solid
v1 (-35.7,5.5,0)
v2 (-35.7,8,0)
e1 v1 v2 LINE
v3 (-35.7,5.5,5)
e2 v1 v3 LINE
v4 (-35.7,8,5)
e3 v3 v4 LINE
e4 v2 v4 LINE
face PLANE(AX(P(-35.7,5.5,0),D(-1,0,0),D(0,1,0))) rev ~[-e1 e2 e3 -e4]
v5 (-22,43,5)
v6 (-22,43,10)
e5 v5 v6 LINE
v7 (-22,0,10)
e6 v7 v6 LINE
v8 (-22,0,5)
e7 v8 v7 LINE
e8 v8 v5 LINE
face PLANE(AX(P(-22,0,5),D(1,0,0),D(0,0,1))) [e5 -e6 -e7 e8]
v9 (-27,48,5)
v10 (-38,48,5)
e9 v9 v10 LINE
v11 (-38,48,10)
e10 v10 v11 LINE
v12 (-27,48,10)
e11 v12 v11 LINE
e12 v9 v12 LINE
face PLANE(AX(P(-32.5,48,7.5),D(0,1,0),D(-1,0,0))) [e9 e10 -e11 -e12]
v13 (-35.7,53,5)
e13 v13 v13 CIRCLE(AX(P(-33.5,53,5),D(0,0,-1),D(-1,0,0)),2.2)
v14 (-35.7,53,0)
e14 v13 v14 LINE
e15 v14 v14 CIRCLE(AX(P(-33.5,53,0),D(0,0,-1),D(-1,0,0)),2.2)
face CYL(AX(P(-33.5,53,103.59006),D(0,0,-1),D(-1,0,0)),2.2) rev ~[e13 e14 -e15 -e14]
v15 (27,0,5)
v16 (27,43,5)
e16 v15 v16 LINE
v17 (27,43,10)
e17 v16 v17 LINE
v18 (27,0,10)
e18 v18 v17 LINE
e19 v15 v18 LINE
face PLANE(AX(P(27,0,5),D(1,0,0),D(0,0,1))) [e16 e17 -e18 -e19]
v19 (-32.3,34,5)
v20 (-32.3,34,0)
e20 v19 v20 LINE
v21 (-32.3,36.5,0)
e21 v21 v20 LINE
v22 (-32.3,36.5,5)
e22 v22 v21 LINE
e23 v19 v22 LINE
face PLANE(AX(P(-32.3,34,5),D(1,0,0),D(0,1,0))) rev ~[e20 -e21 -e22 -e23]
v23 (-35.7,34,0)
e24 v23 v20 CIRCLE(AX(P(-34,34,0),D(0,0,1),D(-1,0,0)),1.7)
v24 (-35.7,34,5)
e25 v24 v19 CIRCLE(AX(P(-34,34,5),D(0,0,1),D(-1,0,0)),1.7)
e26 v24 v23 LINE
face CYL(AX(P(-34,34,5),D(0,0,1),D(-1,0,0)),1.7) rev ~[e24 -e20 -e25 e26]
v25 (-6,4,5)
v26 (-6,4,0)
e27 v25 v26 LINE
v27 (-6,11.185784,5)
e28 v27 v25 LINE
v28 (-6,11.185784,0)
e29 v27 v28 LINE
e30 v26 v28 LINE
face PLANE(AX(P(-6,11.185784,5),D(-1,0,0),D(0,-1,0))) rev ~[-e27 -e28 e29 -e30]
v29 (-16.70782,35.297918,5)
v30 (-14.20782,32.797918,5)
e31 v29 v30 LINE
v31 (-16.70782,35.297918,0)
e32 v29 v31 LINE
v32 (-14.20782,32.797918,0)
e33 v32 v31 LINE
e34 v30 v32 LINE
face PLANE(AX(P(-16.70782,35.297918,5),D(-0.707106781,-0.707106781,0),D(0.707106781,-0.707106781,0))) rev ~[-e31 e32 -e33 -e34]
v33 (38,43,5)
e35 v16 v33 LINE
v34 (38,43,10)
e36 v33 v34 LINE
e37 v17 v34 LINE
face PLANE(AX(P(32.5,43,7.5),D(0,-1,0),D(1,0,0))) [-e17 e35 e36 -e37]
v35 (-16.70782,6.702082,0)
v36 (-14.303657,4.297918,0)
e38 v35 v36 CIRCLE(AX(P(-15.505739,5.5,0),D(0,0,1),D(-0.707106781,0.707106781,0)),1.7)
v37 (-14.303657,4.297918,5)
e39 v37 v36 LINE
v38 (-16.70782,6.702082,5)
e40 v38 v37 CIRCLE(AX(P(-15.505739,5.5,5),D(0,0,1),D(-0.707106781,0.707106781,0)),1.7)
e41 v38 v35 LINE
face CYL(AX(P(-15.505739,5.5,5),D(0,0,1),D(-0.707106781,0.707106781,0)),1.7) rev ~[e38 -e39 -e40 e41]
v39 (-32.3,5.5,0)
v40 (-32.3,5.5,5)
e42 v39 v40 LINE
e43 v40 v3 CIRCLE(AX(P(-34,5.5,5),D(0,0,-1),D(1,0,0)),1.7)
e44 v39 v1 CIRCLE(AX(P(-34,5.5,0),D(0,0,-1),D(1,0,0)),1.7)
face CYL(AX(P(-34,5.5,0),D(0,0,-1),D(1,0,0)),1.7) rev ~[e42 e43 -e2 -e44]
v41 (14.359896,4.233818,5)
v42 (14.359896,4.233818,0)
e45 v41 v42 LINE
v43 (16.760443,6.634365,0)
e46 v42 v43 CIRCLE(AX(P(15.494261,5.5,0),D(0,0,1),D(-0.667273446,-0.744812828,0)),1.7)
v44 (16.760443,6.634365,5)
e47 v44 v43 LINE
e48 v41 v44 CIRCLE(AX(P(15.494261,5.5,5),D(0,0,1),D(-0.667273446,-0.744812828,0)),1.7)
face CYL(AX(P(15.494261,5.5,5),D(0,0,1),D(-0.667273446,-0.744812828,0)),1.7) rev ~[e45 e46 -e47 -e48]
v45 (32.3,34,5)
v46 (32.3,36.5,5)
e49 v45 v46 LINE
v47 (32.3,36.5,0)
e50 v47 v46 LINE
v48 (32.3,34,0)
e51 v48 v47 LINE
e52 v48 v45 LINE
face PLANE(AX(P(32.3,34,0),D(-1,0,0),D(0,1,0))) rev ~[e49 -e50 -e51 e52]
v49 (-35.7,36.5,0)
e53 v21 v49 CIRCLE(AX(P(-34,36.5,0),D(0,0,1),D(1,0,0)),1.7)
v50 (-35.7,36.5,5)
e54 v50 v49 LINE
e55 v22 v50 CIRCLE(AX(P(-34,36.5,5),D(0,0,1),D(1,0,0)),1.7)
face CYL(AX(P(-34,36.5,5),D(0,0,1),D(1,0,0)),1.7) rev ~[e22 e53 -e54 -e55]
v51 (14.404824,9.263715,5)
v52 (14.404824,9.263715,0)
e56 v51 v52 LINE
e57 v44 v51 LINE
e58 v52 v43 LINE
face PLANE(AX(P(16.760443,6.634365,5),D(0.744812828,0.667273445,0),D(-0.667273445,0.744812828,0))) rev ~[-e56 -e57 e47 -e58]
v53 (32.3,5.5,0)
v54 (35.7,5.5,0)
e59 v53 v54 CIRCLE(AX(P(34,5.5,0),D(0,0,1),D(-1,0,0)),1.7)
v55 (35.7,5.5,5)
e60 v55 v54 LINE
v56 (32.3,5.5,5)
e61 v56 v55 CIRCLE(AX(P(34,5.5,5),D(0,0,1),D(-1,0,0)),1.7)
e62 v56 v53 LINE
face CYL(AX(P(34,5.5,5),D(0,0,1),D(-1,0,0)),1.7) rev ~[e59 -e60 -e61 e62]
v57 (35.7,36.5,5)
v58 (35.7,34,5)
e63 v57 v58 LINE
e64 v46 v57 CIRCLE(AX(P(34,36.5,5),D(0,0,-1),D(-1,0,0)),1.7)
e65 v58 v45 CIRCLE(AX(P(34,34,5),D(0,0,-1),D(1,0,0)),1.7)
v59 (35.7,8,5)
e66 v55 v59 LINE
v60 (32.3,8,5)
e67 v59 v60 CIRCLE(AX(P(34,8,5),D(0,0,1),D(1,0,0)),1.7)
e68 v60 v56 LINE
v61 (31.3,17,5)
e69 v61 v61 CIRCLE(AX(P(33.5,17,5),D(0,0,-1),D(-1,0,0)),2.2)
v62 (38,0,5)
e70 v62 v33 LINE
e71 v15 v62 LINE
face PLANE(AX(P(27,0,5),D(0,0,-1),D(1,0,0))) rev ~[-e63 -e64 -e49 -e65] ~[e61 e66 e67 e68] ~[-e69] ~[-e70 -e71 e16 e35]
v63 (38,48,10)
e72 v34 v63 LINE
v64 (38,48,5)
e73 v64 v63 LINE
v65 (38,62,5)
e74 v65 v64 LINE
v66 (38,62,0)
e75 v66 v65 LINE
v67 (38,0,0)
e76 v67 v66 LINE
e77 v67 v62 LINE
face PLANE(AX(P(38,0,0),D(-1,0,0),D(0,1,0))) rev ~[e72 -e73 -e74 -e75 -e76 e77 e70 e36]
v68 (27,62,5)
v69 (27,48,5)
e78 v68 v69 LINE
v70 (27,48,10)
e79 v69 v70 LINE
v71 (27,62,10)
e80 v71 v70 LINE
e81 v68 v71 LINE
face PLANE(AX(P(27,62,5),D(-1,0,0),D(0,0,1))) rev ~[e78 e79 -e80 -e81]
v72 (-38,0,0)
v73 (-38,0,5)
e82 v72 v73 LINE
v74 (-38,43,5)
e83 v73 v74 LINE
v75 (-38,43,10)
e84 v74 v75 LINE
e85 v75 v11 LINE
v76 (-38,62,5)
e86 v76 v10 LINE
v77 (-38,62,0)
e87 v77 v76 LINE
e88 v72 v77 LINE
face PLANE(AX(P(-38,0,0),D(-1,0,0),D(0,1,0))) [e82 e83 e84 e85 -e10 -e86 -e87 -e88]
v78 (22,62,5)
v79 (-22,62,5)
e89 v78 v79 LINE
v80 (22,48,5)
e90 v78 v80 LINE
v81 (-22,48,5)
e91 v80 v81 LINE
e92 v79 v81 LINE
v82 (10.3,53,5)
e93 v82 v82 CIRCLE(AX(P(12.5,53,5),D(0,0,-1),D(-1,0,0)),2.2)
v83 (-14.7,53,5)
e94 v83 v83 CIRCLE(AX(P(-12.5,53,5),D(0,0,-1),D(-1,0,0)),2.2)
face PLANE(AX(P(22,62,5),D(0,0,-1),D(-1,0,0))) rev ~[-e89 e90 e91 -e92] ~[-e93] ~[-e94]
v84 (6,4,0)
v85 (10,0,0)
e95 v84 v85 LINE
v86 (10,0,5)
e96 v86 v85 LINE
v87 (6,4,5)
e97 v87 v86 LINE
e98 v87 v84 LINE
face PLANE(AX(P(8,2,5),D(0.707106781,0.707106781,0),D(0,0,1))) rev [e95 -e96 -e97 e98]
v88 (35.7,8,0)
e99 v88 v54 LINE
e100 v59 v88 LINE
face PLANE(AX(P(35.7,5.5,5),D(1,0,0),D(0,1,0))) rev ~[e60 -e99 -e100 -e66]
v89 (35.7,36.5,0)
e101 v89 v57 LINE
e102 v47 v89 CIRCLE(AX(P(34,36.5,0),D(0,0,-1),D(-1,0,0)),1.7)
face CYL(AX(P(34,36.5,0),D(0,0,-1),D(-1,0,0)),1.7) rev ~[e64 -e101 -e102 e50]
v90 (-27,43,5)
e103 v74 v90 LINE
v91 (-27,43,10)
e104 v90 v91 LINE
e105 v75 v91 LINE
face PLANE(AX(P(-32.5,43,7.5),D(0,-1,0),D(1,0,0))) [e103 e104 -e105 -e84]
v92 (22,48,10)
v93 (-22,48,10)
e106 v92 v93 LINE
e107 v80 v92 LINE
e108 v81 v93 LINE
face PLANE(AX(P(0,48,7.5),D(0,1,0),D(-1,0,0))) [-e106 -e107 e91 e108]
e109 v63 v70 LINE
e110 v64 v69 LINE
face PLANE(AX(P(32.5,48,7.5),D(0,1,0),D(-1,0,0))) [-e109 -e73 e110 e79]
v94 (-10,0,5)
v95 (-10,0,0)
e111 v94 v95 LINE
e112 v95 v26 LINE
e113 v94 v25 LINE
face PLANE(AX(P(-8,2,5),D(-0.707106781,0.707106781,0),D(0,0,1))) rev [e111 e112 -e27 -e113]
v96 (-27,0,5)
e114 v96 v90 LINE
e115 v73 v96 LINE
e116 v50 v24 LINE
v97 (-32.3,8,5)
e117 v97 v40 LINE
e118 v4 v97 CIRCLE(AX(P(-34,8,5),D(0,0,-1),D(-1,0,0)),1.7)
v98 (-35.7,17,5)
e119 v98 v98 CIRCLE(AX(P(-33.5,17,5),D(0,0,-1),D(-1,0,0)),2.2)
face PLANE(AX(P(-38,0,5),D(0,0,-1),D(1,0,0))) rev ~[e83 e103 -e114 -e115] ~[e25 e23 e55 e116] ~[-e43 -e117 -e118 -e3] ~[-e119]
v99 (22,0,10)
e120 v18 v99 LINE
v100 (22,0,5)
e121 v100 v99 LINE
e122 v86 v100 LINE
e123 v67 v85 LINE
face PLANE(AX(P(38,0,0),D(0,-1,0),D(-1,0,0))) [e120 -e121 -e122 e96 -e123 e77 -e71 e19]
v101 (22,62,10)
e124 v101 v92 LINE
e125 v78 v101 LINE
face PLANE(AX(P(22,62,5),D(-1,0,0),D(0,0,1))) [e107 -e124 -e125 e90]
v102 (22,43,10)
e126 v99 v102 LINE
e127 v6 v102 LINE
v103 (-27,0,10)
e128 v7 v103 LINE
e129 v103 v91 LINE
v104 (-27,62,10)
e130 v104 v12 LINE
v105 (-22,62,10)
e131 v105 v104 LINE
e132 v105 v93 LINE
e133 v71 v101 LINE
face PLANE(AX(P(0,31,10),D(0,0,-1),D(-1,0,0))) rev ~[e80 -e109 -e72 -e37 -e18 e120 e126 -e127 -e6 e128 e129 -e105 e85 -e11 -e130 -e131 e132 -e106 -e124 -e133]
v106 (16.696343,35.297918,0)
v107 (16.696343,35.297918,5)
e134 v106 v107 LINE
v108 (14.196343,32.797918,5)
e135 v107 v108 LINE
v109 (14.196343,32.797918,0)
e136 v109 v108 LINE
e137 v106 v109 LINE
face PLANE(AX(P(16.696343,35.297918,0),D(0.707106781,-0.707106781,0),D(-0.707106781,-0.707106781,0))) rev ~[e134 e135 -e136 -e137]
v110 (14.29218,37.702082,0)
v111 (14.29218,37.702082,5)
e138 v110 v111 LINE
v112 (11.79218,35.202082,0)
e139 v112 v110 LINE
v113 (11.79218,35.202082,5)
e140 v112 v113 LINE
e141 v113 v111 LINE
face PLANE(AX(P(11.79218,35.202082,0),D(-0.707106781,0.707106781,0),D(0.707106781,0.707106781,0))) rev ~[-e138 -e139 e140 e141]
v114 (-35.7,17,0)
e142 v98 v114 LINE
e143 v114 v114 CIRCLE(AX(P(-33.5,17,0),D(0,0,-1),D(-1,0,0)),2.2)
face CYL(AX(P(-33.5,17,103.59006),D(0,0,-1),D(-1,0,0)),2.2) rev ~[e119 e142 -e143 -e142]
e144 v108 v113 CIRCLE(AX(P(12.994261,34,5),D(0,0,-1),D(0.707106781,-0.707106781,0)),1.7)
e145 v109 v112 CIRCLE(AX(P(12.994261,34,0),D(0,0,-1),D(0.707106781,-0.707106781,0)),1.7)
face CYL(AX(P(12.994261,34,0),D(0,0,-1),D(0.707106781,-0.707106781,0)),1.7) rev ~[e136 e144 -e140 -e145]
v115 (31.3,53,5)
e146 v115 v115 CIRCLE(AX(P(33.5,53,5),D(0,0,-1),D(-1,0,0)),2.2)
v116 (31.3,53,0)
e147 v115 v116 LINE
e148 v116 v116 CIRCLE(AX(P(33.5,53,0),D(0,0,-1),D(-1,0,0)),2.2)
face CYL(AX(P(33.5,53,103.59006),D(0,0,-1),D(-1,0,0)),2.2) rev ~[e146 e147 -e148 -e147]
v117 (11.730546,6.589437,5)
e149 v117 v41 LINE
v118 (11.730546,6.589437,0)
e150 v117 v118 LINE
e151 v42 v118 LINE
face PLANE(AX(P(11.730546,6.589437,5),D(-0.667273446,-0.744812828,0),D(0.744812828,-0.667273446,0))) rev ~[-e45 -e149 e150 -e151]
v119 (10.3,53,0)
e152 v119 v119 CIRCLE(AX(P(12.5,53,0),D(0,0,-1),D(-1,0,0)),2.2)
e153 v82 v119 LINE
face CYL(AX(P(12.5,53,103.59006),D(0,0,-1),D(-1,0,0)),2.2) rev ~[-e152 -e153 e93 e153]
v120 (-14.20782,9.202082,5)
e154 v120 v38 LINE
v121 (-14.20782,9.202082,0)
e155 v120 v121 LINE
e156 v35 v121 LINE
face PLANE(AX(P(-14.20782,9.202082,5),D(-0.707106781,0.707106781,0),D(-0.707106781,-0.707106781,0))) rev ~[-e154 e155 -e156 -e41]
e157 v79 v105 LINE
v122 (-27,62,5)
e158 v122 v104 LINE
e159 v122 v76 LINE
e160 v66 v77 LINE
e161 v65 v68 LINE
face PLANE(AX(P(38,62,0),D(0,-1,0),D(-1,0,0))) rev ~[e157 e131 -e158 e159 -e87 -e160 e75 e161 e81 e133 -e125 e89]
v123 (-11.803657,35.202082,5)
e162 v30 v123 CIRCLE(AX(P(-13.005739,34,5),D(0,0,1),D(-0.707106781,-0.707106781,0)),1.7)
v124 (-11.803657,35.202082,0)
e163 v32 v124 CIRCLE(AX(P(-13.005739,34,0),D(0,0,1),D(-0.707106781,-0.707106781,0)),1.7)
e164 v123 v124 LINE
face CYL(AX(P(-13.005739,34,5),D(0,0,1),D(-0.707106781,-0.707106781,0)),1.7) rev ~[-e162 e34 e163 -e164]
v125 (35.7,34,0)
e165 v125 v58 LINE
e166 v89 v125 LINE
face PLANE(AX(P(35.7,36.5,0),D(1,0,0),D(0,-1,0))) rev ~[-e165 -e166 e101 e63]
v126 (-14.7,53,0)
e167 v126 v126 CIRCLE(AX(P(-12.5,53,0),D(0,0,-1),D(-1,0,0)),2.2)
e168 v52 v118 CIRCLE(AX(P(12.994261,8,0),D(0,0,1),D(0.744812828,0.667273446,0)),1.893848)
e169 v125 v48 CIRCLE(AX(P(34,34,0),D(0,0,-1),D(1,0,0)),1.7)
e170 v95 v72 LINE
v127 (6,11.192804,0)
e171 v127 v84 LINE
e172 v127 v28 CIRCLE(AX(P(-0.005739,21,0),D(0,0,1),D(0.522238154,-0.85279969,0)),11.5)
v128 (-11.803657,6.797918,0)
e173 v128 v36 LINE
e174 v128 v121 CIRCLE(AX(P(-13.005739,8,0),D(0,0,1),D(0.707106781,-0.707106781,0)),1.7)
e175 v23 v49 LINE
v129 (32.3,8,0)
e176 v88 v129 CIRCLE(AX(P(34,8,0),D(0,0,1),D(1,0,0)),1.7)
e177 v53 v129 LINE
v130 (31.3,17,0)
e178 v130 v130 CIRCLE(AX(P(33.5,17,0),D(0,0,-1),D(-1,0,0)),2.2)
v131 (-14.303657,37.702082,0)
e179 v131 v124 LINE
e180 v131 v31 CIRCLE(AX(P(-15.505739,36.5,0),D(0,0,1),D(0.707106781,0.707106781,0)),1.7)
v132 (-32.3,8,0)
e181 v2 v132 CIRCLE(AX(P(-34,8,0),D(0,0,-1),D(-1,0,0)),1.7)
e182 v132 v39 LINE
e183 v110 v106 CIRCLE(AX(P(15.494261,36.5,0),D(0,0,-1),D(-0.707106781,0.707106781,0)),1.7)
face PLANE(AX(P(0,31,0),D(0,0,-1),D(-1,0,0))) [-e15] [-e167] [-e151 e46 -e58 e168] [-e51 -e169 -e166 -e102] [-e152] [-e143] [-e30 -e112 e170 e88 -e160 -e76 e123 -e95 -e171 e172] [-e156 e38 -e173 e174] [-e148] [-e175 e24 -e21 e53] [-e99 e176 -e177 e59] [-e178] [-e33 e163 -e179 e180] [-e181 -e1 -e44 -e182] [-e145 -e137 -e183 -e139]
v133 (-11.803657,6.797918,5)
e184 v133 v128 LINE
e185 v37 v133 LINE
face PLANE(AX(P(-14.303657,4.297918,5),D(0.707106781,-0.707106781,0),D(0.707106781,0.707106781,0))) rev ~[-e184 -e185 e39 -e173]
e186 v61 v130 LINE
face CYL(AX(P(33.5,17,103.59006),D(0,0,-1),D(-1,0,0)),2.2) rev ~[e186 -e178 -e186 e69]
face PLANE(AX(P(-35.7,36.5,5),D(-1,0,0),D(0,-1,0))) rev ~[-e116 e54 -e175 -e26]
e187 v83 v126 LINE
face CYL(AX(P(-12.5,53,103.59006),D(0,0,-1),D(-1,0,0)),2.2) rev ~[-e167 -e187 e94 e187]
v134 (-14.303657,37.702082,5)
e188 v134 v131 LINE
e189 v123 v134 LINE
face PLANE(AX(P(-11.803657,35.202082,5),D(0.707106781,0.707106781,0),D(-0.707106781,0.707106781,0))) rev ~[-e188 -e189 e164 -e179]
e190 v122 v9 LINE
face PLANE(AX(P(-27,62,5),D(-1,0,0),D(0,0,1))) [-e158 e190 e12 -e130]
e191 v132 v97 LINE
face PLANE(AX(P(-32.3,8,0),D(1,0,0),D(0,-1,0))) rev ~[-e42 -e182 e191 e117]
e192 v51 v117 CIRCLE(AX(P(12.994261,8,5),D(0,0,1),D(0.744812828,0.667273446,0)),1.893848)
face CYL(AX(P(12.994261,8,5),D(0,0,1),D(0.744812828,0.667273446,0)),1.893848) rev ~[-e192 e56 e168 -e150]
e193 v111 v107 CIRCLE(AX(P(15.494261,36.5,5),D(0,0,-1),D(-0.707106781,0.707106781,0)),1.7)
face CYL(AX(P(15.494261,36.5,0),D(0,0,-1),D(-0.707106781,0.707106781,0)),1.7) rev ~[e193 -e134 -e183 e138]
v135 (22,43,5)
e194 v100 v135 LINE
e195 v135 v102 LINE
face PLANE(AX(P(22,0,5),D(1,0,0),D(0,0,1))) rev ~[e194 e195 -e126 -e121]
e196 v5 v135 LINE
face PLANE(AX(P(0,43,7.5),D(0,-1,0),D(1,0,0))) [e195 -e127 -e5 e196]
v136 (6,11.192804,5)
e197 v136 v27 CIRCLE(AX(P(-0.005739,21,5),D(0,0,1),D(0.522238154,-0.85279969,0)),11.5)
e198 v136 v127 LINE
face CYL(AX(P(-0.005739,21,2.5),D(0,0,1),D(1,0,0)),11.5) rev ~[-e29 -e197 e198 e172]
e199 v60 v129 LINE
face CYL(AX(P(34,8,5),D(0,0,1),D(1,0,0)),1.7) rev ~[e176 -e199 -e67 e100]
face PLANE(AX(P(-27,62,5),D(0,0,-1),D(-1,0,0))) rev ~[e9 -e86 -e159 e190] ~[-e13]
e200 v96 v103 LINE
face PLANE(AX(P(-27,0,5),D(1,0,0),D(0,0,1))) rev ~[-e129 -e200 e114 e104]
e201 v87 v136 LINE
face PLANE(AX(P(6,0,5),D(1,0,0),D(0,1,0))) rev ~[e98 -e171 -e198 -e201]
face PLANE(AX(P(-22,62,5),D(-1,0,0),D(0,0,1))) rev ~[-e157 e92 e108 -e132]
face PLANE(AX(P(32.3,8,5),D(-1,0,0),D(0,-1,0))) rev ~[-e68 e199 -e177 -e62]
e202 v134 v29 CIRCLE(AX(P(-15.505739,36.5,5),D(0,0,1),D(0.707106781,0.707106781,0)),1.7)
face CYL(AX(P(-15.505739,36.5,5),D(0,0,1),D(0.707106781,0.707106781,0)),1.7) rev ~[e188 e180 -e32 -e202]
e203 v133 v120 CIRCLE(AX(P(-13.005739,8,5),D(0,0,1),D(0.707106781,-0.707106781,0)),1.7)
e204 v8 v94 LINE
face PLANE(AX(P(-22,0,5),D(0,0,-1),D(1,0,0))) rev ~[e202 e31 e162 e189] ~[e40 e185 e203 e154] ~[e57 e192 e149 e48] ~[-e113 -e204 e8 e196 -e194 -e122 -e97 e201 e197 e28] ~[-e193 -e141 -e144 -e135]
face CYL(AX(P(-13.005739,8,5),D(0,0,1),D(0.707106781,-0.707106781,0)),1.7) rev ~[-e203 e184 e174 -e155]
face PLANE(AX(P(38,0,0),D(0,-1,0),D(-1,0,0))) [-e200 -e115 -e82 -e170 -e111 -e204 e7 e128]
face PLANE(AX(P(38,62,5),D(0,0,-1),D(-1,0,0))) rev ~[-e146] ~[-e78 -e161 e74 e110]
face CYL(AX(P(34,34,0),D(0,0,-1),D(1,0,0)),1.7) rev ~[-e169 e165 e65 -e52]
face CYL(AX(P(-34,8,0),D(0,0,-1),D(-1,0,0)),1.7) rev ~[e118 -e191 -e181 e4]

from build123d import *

# Parameters (mm, degrees)
SKETCH1_W           = 76
SKETCH1_H           = 62
BOSS_EXTRUDE1_DEPTH = 10
SKETCH2_W           = 44
SKETCH2_H           = 5
CUT_EXTRUDE1_DEPTH  = 43
CUT_EXTRUDE2_DEPTH  = 73.890328577
CUT_EXTRUDE3_DEPTH  = 73.890328577
CUT_EXTRUDE4_DEPTH  = 73.890328577
CUT_EXTRUDE5_DEPTH  = 73.890328577
CUT_EXTRUDE6_DEPTH  = 74.402997214
SKETCH8_W           = 11
SKETCH8_H           = 5
CUT_EXTRUDE7_DEPTH  = 43
CUT_EXTRUDE8_DEPTH  = 74.402997214
SKETCH10_W          = 11
SKETCH10_H          = 5
CUT_EXTRUDE9_DEPTH  = 43
CUT_EXTRUDE10_DEPTH = 73.890328577
CUT_EXTRUDE11_DEPTH = 74.402997214
CUT_EXTRUDE12_DEPTH = 73.890328577
SKETCH14_W          = 11
SKETCH14_H          = 5
CUT_EXTRUDE13_DEPTH = 14
SKETCH15_W          = 11
SKETCH15_H          = 5
CUT_EXTRUDE14_DEPTH = 14
SKETCH16_W          = 44
SKETCH16_H          = 5
CUT_EXTRUDE15_DEPTH = 14
SKETCH17_W          = 11.5
SKETCH17_H          = 5
HOLE1_D             = 4.4
HOLE2_D             = 4.4
HOLE3_D             = 4.4
HOLE4_D             = 4.4
HOLE5_D             = 4.4
HOLE6_D             = 4.4
CHAMFER1_SIZE       = 4
CHAMFER2_SIZE       = 4


with BuildPart() as part:
    # Sketch1 → Boss-Extrude1 (new body)
    with BuildSketch(Plane(origin=(0, 0, 0), x_dir=(-1, 0, 0), z_dir=(0, 0, -1))):
        with Locations((0, 31)):
            Rectangle(SKETCH1_W, SKETCH1_H)
    extrude(amount=-BOSS_EXTRUDE1_DEPTH)

    # Sketch2 → Cut-Extrude1 (cut)
    with BuildSketch(Plane.XZ):
        with Locations((0, 7.5)):
            Rectangle(SKETCH2_W, SKETCH2_H)
    extrude(amount=-CUT_EXTRUDE1_DEPTH, mode=Mode.SUBTRACT)

    # Sketch3 → Cut-Extrude2 (cut, through all)
    with BuildSketch(Plane.XY.offset(5)):
        with BuildLine():
            Line((-6, 0), (6, 0))
            Line((6, 0), (6, 11.192803568))
            ThreePointArc((6, 11.192803568), (0.00098815, 9.500001967), (-6, 11.185784174))
            Line((-6, 11.185784174), (-6, 0))
        make_face()
    extrude(amount=-CUT_EXTRUDE2_DEPTH, mode=Mode.SUBTRACT)

    # Sketch4 → Cut-Extrude3 (cut, through all)
    with BuildSketch(Plane.XY.offset(5)):
        with BuildLine():
            Line((-11.803657239, 35.202081528), (-14.303657239, 37.702081528))
            ThreePointArc((-14.303657239, 37.702081528), (-16.707820295, 37.702081528), (-16.707820295, 35.297918472))
            Line((-16.707820295, 35.297918472), (-14.207820295, 32.797918472))
            ThreePointArc((-14.207820295, 32.797918472), (-11.803657239, 32.797918472), (-11.803657239, 35.202081528))
        make_face()
    extrude(amount=-CUT_EXTRUDE3_DEPTH, mode=Mode.SUBTRACT)

    # Sketch5 → Cut-Extrude4 (cut, through all)
    with BuildSketch(Plane.XY.offset(5)):
        with BuildLine():
            Line((-14.207820295, 9.202081528), (-16.707820295, 6.702081528))
            ThreePointArc((-16.707820295, 6.702081528), (-16.707820295, 4.297918472), (-14.303657239, 4.297918472))
            Line((-14.303657239, 4.297918472), (-11.803657239, 6.797918472))
            ThreePointArc((-11.803657239, 6.797918472), (-11.803657239, 9.202081528), (-14.207820295, 9.202081528))
        make_face()
    extrude(amount=-CUT_EXTRUDE4_DEPTH, mode=Mode.SUBTRACT)

    # Sketch6 → Cut-Extrude5 (cut, through all)
    with BuildSketch(Plane.XY.offset(5)):
        with BuildLine():
            Line((11.730546448, 6.589437375), (14.359896375, 4.233818192))
            ThreePointArc((14.359896375, 4.233818192), (16.696342761, 4.297918472), (16.760443041, 6.634364857))
            Line((16.760443041, 6.634364857), (14.404823858, 9.263714785))
            ThreePointArc((14.404823858, 9.263714785), (11.655108147, 9.339153086), (11.730546448, 6.589437375))
        make_face()
    extrude(amount=-CUT_EXTRUDE5_DEPTH, mode=Mode.SUBTRACT)

    # Sketch7 → Cut-Extrude6 (cut, through all)
    with BuildSketch(Plane(origin=(0, 0, 0), x_dir=(-1, 0, 0), z_dir=(0, 0, -1))):
        with BuildLine():
            Line((-16.696342761, 35.297918472), (-14.196342761, 32.797918472))
            ThreePointArc((-14.196342761, 32.797918472), (-11.792179705, 32.797918472), (-11.792179705, 35.202081528))
            Line((-11.792179705, 35.202081528), (-14.292179705, 37.702081528))
            ThreePointArc((-14.292179705, 37.702081528), (-16.696342761, 37.702081528), (-16.696342761, 35.297918472))
        make_face()
    extrude(amount=-CUT_EXTRUDE6_DEPTH, mode=Mode.SUBTRACT)

    # Sketch8 → Cut-Extrude7 (cut)
    with BuildSketch(Plane.XZ):
        with Locations((32.5, 7.5)):
            Rectangle(SKETCH8_W, SKETCH8_H)
    extrude(amount=-CUT_EXTRUDE7_DEPTH, mode=Mode.SUBTRACT)

    # Sketch9 → Cut-Extrude8 (cut, through all)
    with BuildSketch(Plane(origin=(0, 0, 0), x_dir=(-1, 0, 0), z_dir=(0, 0, -1))):
        with BuildLine():
            Line((-32.3, 34), (-32.3, 36.5))
            ThreePointArc((-32.3, 36.5), (-34, 38.2), (-35.7, 36.5))
            Line((-35.7, 36.5), (-35.7, 34))
            ThreePointArc((-35.7, 34), (-34, 32.3), (-32.3, 34))
        make_face()
    extrude(amount=-CUT_EXTRUDE8_DEPTH, mode=Mode.SUBTRACT)

    # Sketch10 → Cut-Extrude9 (cut)
    with BuildSketch(Plane.XZ):
        with Locations((-32.5, 7.5)):
            Rectangle(SKETCH10_W, SKETCH10_H)
    extrude(amount=-CUT_EXTRUDE9_DEPTH, mode=Mode.SUBTRACT)

    # Sketch11 → Cut-Extrude10 (cut, through all)
    with BuildSketch(Plane.XY.offset(5)):
        with BuildLine():
            Line((-35.7, 36.5), (-35.7, 34))
            ThreePointArc((-35.7, 34), (-34, 32.3), (-32.3, 34))
            Line((-32.3, 34), (-32.3, 36.5))
            ThreePointArc((-32.3, 36.5), (-34, 38.2), (-35.7, 36.5))
        make_face()
    extrude(amount=-CUT_EXTRUDE10_DEPTH, mode=Mode.SUBTRACT)

    # Sketch12 → Cut-Extrude11 (cut, through all)
    with BuildSketch(Plane(origin=(0, 0, 0), x_dir=(-1, 0, 0), z_dir=(0, 0, -1))):
        with BuildLine():
            Line((32.3, 8), (32.3, 5.5))
            ThreePointArc((32.3, 5.5), (34, 3.8), (35.7, 5.5))
            Line((35.7, 5.5), (35.7, 8))
            ThreePointArc((35.7, 8), (34, 9.7), (32.3, 8))
        make_face()
    extrude(amount=-CUT_EXTRUDE11_DEPTH, mode=Mode.SUBTRACT)

    # Sketch13 → Cut-Extrude12 (cut, through all)
    with BuildSketch(Plane.XY.offset(5)):
        with BuildLine():
            Line((35.7, 5.5), (35.7, 8))
            ThreePointArc((35.7, 8), (34, 9.7), (32.3, 8))
            Line((32.3, 8), (32.3, 5.5))
            ThreePointArc((32.3, 5.5), (34, 3.8), (35.7, 5.5))
        make_face()
    extrude(amount=-CUT_EXTRUDE12_DEPTH, mode=Mode.SUBTRACT)

    # Sketch14 → Cut-Extrude13 (cut)
    with BuildSketch(Plane(origin=(0, 62, 0), x_dir=(-1, 0, 0), z_dir=(0, 1, 0))):
        with Locations((-32.5, 7.5)):
            Rectangle(SKETCH14_W, SKETCH14_H)
    extrude(amount=-CUT_EXTRUDE13_DEPTH, mode=Mode.SUBTRACT)

    # Sketch15 → Cut-Extrude14 (cut)
    with BuildSketch(Plane(origin=(0, 62, 0), x_dir=(-1, 0, 0), z_dir=(0, 1, 0))):
        with Locations((32.5, 7.5)):
            Rectangle(SKETCH15_W, SKETCH15_H)
    extrude(amount=-CUT_EXTRUDE14_DEPTH, mode=Mode.SUBTRACT)

    # Sketch16 → Cut-Extrude15 (cut)
    with BuildSketch(Plane(origin=(0, 62, 0), x_dir=(-1, 0, 0), z_dir=(0, 1, 0))):
        with Locations((0, 7.5)):
            Rectangle(SKETCH16_W, SKETCH16_H)
    extrude(amount=-CUT_EXTRUDE15_DEPTH, mode=Mode.SUBTRACT)

    # Sketch17 → Cut-Revolve1 (revolve, cut)
    with BuildSketch(Plane(origin=(0, 21, 0), x_dir=(-1, 0, 0), z_dir=(0, 1, 0))):
        with Locations((-5.744261233, 2.5)):
            Rectangle(SKETCH17_W, SKETCH17_H)
    revolve(axis=Axis((-0.005738767, 21, 0), (0, 0, 1)), mode=Mode.SUBTRACT)

    # Hole1 (through all)
    with Locations(Plane.XY.offset(5)):
        with Locations((-33.5, 17)):
            Hole(HOLE1_D / 2)

    # Hole2 (through all)
    with Locations(Plane.XY.offset(5)):
        with Locations((33.5, 17)):
            Hole(HOLE2_D / 2)

    # Hole3 (through all)
    with Locations(Plane.XY.offset(5)):
        with Locations((33.5, 53)):
            Hole(HOLE3_D / 2)

    # Hole4 (through all)
    with Locations(Plane.XY.offset(5)):
        with Locations((-33.5, 53)):
            Hole(HOLE4_D / 2)

    # Hole5 (through all)
    with Locations(Plane.XY.offset(5)):
        with Locations((-12.5, 53)):
            Hole(HOLE5_D / 2)

    # Hole6 (through all)
    with Locations(Plane.XY.offset(5)):
        with Locations((12.5, 53)):
            Hole(HOLE6_D / 2)

    # Chamfer1
    chamfer1_edges = [part.edges().sort_by_distance(p)[0] for p in [
        (-6, 0, 2.5),
    ]]
    chamfer(chamfer1_edges, length=CHAMFER1_SIZE)

    # Chamfer2
    chamfer2_edges = [part.edges().sort_by_distance(p)[0] for p in [
        (6, 0, 2.5),
    ]]
    chamfer(chamfer2_edges, length=CHAMFER2_SIZE)


solid = part.part
